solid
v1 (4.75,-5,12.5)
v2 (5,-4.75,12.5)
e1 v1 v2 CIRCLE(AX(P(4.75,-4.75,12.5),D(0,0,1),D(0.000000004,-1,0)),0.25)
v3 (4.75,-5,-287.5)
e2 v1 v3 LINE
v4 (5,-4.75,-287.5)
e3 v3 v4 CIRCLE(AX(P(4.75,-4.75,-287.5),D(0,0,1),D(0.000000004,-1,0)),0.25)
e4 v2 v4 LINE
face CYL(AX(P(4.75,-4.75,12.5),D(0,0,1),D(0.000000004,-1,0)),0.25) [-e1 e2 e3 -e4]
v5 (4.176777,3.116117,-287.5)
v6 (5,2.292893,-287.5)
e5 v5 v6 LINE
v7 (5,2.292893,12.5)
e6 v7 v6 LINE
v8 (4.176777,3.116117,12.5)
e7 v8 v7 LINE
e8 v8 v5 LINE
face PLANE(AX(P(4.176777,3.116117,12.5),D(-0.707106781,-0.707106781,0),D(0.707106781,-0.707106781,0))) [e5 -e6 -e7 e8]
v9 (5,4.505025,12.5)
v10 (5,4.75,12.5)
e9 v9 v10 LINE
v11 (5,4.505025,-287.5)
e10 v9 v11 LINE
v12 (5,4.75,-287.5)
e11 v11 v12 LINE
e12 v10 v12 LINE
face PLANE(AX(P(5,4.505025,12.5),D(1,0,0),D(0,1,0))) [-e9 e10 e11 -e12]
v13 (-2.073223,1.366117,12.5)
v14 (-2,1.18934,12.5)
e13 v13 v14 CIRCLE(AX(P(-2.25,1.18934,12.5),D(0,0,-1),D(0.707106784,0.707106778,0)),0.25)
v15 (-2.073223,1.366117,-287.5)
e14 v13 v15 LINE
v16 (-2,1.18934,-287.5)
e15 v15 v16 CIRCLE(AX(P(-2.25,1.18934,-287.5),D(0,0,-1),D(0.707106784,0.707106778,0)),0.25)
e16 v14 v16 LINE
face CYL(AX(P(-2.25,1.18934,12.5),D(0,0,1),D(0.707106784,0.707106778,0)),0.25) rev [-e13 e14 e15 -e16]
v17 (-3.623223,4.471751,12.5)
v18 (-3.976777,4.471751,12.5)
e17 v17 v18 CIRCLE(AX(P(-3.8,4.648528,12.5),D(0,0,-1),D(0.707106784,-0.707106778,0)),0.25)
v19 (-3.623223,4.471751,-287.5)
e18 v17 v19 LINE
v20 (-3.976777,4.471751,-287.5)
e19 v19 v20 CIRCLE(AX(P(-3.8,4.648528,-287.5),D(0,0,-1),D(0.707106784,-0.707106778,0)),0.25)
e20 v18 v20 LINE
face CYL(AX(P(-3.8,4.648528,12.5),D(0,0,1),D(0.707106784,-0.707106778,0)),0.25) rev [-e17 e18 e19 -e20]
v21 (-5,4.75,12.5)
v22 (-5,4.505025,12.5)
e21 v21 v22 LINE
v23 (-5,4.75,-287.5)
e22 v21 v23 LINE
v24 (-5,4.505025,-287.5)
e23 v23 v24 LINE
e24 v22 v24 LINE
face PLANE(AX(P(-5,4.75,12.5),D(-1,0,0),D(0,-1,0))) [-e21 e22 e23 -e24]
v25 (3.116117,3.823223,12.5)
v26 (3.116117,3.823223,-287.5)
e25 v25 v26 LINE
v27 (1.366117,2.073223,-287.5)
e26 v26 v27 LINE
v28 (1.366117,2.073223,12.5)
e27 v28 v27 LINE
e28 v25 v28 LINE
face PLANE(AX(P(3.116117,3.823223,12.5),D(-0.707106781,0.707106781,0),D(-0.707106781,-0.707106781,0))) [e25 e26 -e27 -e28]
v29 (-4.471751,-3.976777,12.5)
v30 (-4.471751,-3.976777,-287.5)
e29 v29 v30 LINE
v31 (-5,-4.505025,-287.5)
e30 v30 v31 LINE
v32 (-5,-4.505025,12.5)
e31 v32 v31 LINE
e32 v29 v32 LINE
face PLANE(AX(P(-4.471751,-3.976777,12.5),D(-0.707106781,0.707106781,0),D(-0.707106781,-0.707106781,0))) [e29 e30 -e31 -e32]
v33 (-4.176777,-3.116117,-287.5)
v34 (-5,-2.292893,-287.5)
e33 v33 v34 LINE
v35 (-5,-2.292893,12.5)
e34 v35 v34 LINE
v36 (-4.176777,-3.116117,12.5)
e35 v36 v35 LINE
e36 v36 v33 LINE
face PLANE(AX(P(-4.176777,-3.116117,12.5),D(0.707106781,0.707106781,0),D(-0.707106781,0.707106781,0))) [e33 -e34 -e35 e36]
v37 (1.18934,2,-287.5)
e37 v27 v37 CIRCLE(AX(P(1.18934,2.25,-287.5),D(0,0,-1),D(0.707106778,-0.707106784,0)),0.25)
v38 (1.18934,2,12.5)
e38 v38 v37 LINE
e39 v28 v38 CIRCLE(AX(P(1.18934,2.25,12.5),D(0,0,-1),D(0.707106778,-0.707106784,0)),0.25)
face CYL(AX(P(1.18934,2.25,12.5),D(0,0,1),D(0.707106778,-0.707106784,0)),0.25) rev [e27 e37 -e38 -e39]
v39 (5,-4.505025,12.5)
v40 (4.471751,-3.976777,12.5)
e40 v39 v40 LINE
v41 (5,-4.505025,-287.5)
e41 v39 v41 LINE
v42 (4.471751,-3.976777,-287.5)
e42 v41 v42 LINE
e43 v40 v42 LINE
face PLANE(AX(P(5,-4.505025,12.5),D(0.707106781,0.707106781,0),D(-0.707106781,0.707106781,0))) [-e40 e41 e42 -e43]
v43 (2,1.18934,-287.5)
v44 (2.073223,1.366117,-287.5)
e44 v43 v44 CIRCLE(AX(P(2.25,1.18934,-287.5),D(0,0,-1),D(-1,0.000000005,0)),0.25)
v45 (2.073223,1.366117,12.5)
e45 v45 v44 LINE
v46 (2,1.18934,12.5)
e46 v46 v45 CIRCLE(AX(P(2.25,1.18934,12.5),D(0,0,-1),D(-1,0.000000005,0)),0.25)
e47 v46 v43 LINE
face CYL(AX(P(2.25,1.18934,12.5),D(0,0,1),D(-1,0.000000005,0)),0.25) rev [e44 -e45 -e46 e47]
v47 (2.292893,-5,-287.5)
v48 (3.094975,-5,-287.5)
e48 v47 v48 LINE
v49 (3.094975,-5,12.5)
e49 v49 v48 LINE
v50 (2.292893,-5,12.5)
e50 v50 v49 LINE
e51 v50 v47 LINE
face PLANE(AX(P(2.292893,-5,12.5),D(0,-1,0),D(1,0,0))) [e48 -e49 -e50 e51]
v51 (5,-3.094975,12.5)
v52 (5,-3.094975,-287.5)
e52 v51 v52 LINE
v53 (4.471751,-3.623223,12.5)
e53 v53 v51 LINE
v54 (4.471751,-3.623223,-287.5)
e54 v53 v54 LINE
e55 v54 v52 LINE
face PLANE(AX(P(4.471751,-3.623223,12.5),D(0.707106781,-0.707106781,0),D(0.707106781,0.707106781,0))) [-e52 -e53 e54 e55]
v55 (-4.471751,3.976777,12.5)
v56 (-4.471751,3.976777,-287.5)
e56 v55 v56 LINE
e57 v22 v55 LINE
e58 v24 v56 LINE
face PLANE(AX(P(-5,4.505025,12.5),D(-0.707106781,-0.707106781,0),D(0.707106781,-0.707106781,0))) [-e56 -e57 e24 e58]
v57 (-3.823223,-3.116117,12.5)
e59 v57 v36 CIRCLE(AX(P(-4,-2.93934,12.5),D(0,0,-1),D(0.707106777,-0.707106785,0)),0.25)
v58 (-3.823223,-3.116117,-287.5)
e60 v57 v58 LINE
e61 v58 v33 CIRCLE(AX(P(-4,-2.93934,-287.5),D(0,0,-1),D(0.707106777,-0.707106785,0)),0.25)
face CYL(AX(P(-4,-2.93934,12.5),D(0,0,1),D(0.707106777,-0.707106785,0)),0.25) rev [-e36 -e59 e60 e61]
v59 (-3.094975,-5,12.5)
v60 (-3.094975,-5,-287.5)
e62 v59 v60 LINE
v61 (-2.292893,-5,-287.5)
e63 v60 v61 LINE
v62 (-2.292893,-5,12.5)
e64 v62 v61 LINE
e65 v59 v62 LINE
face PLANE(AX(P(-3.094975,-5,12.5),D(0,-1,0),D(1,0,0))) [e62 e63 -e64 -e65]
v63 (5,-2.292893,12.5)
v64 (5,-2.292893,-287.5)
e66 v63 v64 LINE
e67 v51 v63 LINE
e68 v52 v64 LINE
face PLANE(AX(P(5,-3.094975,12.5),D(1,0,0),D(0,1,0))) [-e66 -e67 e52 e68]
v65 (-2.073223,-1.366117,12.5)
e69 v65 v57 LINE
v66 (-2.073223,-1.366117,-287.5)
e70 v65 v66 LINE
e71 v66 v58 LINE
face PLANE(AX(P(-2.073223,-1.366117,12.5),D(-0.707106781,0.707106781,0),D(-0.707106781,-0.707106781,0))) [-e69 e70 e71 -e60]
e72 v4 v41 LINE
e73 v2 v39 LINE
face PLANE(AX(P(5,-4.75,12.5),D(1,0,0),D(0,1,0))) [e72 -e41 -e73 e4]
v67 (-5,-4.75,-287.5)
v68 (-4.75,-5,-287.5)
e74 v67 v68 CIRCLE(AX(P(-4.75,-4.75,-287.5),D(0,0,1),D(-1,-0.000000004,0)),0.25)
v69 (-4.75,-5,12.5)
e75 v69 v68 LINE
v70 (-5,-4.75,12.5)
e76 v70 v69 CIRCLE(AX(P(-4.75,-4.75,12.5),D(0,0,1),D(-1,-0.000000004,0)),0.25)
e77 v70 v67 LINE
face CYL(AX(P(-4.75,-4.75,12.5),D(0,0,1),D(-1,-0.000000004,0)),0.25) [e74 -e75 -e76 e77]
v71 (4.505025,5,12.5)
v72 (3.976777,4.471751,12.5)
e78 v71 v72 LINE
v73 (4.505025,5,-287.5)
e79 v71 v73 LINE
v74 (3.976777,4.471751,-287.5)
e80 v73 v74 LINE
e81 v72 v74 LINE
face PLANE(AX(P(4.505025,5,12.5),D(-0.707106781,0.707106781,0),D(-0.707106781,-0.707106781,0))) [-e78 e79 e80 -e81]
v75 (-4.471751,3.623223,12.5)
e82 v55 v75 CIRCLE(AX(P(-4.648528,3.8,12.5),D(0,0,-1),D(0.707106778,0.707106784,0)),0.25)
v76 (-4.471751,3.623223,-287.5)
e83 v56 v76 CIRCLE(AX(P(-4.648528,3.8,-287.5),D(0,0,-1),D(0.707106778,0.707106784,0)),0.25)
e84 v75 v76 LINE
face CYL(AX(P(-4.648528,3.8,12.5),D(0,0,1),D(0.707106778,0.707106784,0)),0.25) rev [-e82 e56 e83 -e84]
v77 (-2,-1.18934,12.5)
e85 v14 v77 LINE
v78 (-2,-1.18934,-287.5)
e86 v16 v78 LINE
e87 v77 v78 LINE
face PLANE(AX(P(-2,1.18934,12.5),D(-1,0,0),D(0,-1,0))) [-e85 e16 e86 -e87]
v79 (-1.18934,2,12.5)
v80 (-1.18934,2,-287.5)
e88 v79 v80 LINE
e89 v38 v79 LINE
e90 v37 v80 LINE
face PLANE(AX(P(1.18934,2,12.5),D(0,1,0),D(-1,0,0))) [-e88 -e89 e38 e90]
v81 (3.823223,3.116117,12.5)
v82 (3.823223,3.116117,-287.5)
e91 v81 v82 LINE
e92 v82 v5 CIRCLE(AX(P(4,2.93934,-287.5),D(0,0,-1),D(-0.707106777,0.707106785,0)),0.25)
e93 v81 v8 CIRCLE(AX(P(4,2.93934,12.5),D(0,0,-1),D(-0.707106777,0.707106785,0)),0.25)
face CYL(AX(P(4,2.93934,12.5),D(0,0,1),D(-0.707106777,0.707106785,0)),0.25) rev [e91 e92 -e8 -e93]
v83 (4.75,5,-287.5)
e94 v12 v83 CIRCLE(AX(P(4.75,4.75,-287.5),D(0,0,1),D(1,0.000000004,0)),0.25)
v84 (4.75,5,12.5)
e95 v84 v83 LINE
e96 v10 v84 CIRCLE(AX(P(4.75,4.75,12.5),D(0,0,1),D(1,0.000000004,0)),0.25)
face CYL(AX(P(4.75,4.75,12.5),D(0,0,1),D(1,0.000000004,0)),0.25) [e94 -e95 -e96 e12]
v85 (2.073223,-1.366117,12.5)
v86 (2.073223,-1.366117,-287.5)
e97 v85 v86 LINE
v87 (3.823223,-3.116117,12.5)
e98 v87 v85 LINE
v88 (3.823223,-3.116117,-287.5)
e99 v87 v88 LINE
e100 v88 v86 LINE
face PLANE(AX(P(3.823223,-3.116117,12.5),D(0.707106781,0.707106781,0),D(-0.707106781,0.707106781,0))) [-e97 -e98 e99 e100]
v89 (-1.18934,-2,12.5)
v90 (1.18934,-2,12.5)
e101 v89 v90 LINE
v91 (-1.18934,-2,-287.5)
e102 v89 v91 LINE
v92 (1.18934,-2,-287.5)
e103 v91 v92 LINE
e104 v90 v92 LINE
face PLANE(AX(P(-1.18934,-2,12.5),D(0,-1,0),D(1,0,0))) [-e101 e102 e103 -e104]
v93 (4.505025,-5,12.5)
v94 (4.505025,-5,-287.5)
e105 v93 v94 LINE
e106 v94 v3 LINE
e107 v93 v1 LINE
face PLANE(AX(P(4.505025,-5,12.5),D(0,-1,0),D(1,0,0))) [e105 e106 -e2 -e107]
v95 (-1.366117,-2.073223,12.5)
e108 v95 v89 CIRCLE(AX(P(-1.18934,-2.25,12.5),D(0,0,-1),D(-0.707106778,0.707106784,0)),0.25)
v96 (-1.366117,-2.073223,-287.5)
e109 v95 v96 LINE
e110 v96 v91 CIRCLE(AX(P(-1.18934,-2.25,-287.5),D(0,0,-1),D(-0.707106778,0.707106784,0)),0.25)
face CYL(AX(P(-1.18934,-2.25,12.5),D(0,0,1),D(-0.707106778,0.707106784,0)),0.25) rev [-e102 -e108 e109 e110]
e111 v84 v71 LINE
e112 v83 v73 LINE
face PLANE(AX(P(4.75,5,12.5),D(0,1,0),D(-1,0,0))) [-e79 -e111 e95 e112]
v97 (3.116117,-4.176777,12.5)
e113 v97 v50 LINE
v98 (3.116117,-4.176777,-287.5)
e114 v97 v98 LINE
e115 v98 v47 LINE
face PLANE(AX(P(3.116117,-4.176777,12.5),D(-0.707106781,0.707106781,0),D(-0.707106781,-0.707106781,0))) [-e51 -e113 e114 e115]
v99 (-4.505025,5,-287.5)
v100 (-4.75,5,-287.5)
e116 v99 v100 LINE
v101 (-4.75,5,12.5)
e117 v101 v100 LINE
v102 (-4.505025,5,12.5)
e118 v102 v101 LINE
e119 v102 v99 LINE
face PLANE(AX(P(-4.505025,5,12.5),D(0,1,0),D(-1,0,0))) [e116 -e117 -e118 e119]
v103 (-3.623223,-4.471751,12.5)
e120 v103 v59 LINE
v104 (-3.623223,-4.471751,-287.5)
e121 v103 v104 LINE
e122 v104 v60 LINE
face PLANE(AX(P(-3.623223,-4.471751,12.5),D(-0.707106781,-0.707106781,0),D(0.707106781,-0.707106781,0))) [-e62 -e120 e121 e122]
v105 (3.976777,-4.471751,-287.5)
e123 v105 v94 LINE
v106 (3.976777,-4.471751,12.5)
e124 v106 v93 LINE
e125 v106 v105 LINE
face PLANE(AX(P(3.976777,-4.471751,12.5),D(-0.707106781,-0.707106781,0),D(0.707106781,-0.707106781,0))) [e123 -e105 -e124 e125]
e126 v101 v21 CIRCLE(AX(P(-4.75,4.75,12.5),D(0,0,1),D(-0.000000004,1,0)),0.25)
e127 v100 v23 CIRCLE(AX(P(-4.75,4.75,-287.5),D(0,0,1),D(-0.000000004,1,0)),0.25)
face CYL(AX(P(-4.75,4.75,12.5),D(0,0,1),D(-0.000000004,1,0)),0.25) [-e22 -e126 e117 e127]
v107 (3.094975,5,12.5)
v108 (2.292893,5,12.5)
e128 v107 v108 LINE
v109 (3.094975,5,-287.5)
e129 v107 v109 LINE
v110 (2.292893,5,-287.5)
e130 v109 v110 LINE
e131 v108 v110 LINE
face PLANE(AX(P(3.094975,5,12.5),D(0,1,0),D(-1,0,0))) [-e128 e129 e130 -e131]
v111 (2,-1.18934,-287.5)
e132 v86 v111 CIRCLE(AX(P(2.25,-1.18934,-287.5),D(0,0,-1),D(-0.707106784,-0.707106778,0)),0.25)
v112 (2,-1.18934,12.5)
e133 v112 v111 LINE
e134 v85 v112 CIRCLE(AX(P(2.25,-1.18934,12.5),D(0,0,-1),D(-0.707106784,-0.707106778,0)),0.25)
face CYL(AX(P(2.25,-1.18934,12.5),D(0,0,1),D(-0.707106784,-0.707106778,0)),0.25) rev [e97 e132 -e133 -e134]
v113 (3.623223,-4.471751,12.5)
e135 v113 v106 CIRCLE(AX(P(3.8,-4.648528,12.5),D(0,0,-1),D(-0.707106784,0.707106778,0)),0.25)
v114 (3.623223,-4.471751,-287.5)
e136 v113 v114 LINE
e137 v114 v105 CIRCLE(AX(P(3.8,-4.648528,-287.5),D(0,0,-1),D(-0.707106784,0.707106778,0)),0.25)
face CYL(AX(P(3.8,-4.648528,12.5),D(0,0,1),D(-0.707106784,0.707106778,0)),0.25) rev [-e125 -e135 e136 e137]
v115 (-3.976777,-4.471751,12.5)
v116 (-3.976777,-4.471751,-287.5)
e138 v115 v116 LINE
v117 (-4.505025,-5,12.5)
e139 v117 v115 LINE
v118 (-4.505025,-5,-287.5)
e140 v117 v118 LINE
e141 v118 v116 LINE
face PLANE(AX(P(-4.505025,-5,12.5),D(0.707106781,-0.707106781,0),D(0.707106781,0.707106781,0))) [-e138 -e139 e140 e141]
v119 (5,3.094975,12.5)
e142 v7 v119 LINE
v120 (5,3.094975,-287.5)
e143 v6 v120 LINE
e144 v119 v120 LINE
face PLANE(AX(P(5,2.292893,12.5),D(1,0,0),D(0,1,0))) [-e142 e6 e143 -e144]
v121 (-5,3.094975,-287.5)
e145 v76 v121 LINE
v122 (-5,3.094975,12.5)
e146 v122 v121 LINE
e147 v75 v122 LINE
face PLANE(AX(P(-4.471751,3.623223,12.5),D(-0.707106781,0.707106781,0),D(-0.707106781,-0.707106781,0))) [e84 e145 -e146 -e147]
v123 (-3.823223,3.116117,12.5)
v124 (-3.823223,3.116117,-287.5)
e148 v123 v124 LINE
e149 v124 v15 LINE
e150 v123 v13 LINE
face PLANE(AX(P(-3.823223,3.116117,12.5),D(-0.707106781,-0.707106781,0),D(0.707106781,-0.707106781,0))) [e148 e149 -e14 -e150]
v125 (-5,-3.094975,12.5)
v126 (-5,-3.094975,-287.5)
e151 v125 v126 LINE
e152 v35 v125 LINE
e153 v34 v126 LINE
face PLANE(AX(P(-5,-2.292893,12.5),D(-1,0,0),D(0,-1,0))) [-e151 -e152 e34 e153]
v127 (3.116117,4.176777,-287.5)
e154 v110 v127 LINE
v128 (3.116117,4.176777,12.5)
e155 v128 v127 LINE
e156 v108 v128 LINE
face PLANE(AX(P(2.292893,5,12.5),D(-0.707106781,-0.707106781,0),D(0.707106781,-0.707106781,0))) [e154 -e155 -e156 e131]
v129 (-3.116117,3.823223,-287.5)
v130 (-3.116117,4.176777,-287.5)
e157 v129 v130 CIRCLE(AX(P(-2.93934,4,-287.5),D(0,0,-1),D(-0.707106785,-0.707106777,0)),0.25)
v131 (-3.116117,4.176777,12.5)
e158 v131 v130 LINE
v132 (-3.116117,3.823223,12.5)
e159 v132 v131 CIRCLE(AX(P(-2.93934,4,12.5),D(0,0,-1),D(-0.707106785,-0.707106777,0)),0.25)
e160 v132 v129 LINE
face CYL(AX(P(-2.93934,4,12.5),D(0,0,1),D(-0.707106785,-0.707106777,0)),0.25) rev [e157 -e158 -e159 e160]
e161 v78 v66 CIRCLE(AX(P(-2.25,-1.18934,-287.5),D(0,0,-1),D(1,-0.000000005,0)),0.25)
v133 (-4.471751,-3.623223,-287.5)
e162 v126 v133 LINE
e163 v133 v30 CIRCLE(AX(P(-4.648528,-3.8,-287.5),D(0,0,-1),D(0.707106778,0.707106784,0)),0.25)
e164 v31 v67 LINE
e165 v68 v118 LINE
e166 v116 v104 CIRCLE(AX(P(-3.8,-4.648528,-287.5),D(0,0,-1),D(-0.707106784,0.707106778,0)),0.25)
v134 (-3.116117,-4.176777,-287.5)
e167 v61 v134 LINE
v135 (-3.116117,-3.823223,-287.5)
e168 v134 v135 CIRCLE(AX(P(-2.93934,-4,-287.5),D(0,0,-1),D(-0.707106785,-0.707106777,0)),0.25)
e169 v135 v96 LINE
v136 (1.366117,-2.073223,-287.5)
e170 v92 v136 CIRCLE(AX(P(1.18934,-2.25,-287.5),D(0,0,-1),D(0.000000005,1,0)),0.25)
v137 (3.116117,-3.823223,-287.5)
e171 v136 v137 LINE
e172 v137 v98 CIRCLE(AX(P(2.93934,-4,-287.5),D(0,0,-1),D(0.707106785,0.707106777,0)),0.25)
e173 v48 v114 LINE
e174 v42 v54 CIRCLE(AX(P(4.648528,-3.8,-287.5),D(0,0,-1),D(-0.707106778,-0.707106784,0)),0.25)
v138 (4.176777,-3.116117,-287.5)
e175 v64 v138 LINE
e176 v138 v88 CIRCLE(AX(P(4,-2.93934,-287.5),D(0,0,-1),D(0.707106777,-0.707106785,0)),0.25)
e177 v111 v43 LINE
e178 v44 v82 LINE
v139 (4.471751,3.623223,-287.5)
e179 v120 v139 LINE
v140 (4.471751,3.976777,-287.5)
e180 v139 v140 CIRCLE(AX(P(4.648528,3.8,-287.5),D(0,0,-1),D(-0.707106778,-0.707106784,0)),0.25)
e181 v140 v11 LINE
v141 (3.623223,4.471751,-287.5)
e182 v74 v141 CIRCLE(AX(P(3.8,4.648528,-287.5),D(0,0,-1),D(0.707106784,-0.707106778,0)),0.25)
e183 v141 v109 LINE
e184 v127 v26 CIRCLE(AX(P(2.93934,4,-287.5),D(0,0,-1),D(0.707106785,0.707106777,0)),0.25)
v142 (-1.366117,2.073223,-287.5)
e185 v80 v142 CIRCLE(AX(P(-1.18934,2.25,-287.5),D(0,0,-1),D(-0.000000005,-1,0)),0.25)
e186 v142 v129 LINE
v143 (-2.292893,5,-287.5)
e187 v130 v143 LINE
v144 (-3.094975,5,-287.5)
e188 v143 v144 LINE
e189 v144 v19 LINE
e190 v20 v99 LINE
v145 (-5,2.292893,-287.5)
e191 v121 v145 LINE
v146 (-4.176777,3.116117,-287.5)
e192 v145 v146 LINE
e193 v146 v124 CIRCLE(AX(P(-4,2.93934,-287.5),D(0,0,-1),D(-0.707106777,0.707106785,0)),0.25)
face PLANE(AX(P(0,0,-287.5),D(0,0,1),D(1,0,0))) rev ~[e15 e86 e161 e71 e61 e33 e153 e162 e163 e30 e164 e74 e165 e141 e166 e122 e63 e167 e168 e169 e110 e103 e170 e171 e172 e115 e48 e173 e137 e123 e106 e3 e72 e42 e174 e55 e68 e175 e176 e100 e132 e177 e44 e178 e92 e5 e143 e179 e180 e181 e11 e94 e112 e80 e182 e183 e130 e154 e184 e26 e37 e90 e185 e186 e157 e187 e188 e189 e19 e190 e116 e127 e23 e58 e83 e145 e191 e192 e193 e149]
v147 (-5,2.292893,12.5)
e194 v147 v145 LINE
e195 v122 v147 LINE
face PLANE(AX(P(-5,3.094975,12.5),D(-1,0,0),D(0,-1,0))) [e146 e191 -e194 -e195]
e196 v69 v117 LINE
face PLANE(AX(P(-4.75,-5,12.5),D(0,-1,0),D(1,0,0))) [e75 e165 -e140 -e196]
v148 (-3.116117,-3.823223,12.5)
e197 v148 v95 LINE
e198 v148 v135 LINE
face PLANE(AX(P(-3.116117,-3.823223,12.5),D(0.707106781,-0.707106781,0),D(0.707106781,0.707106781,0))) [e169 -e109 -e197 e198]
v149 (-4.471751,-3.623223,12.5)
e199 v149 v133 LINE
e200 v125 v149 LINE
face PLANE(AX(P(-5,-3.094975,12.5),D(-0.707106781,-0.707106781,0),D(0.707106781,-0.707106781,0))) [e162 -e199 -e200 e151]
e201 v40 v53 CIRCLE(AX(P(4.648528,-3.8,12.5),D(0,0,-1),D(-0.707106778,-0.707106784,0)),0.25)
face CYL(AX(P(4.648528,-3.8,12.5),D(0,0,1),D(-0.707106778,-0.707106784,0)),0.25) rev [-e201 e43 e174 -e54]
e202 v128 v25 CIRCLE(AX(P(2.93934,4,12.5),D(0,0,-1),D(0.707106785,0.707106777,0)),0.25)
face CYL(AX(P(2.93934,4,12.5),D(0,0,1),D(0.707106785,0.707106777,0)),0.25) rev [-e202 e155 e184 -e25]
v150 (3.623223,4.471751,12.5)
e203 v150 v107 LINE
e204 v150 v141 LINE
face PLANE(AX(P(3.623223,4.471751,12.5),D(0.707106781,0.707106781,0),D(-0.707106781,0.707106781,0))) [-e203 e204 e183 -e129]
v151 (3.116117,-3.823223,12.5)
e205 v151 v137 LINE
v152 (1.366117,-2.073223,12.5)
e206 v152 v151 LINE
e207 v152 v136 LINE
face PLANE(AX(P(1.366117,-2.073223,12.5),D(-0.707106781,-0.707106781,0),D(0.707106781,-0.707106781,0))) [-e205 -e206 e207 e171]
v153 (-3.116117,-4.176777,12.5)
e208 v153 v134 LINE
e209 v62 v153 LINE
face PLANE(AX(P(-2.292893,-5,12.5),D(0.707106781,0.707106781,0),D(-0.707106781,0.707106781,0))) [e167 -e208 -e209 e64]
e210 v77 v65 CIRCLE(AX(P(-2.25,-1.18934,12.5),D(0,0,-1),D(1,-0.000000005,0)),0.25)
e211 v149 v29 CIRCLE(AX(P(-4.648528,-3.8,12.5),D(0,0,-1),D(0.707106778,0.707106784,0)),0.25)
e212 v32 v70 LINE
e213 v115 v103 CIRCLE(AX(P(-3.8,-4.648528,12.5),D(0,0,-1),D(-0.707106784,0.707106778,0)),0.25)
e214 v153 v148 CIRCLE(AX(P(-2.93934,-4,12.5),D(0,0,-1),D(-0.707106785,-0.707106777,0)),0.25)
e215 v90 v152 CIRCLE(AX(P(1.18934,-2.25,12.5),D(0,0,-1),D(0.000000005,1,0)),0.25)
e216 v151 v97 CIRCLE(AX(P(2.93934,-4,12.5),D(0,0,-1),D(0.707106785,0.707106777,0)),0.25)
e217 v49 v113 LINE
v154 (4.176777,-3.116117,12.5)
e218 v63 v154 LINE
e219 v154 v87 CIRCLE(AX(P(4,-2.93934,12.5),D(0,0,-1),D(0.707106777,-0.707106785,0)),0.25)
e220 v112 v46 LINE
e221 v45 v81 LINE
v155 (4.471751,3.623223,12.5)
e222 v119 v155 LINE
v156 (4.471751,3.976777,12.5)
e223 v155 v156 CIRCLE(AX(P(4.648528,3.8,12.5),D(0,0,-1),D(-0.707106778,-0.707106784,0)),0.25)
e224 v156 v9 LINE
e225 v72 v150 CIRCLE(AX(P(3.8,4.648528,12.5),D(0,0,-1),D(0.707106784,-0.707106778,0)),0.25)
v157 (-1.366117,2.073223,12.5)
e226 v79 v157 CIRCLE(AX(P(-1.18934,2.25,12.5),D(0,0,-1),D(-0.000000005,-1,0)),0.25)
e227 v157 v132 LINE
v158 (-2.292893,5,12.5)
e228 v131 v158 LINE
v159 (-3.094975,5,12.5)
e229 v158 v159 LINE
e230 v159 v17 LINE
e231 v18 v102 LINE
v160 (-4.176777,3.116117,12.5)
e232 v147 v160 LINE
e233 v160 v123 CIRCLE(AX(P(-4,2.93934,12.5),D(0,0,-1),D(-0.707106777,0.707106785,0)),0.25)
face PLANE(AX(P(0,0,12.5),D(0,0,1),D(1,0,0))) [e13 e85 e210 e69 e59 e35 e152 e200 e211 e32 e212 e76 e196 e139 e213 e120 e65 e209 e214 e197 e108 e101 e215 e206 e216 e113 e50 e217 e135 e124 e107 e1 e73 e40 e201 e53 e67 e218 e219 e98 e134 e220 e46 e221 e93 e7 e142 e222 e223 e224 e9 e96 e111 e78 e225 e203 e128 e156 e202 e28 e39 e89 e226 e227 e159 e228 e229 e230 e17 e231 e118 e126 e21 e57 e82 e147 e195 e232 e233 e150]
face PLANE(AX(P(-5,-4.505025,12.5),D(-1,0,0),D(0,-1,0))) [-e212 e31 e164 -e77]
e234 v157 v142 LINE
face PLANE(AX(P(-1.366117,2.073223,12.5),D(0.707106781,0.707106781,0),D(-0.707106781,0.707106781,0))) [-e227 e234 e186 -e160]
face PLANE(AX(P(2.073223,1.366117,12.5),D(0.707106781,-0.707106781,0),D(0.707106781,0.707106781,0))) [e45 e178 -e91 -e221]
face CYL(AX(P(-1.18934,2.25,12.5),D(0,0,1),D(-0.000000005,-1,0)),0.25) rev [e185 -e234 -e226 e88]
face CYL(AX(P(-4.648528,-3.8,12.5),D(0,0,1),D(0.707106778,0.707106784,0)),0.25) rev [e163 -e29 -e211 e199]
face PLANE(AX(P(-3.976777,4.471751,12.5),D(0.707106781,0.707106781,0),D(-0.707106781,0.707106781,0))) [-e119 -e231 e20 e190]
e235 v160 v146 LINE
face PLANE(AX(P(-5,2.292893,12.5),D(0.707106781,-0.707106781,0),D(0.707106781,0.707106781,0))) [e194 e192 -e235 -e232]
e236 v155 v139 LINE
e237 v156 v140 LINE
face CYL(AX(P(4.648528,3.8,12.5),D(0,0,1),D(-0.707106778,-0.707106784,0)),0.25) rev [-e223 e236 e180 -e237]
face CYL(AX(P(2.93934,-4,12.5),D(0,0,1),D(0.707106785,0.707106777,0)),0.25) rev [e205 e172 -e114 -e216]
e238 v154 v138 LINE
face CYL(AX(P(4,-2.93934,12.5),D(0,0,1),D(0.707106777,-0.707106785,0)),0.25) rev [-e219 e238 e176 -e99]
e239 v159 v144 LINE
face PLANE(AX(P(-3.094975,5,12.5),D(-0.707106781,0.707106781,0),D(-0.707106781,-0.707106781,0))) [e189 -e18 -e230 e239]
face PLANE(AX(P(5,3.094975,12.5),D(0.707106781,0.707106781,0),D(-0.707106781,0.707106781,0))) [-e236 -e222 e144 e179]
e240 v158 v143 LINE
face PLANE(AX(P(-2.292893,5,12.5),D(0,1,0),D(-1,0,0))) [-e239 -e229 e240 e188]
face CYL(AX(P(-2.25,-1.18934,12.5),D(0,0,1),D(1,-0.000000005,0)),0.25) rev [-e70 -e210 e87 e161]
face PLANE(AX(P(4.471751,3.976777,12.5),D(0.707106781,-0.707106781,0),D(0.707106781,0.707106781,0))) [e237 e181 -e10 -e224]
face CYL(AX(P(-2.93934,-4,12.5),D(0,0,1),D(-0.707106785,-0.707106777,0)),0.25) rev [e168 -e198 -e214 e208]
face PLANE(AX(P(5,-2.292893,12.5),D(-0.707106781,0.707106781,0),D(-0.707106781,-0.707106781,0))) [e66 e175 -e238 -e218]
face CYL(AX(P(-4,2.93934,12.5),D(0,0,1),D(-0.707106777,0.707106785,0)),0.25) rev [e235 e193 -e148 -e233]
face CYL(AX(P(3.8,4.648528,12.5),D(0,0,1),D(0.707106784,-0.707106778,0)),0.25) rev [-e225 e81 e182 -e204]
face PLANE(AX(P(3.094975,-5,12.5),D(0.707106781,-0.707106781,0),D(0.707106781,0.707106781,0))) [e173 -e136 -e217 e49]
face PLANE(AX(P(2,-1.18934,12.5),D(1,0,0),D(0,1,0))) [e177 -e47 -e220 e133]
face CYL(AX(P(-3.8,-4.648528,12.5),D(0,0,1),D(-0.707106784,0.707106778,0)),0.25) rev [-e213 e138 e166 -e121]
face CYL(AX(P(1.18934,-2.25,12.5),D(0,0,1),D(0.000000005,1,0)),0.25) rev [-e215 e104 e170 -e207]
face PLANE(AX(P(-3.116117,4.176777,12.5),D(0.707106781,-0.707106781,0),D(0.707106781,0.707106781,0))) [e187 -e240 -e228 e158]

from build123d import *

# Parameters (mm, degrees)
BOSS_EXTRUDE1_DEPTH = 300


with BuildPart() as part:
    # Sketch1 → Boss-Extrude1 (new body)
    with BuildSketch(Plane.XY.offset(12.5)):
        with BuildLine():
            Line((1.189339828, 2), (-1.189339828, 2))
            ThreePointArc((-1.189339828, 2), (-1.285010686, 2.019030117), (-1.366116524, 2.073223305))
            Line((-1.366116524, 2.073223305), (-3.116116524, 3.823223305))
            ThreePointArc((-3.116116524, 3.823223305), (-3.189339828, 4), (-3.116116524, 4.176776695))
            Line((-3.116116524, 4.176776695), (-2.292893219, 5))
            Line((-2.292893219, 5), (-3.094974747, 5))
            Line((-3.094974747, 5), (-3.623223305, 4.471751442))
            ThreePointArc((-3.623223305, 4.471751442), (-3.8, 4.398528137), (-3.976776695, 4.471751442))
            Line((-3.976776695, 4.471751442), (-4.505025253, 5))
            Line((-4.505025253, 5), (-4.75, 5))
            ThreePointArc((-4.75, 5), (-4.926776695, 4.926776695), (-5, 4.75))
            Line((-5, 4.75), (-5, 4.505025253))
            Line((-5, 4.505025253), (-4.471751442, 3.976776695))
            ThreePointArc((-4.471751442, 3.976776695), (-4.398528137, 3.8), (-4.471751442, 3.623223305))
            Line((-4.471751442, 3.623223305), (-5, 3.094974747))
            Line((-5, 3.094974747), (-5, 2.292893219))
            Line((-5, 2.292893219), (-4.176776695, 3.116116524))
            ThreePointArc((-4.176776695, 3.116116524), (-4, 3.189339828), (-3.823223305, 3.116116524))
            Line((-3.823223305, 3.116116524), (-2.073223305, 1.366116524))
            ThreePointArc((-2.073223305, 1.366116524), (-2.019030117, 1.285010686), (-2, 1.189339828))
            Line((-2, 1.189339828), (-2, -1.189339828))
            ThreePointArc((-2, -1.189339828), (-2.019030117, -1.285010686), (-2.073223305, -1.366116524))
            Line((-2.073223305, -1.366116524), (-3.823223305, -3.116116524))
            ThreePointArc((-3.823223305, -3.116116524), (-4, -3.189339828), (-4.176776695, -3.116116524))
            Line((-4.176776695, -3.116116524), (-5, -2.292893219))
            Line((-5, -2.292893219), (-5, -3.094974747))
            Line((-5, -3.094974747), (-4.471751442, -3.623223305))
            ThreePointArc((-4.471751442, -3.623223305), (-4.398528137, -3.8), (-4.471751442, -3.976776695))
            Line((-4.471751442, -3.976776695), (-5, -4.505025253))
            Line((-5, -4.505025253), (-5, -4.75))
            ThreePointArc((-5, -4.75), (-4.926776695, -4.926776695), (-4.75, -5))
            Line((-4.75, -5), (-4.505025253, -5))
            Line((-4.505025253, -5), (-3.976776695, -4.471751442))
            ThreePointArc((-3.976776695, -4.471751442), (-3.8, -4.398528137), (-3.623223305, -4.471751442))
            Line((-3.623223305, -4.471751442), (-3.094974747, -5))
            Line((-3.094974747, -5), (-2.292893219, -5))
            Line((-2.292893219, -5), (-3.116116524, -4.176776695))
            ThreePointArc((-3.116116524, -4.176776695), (-3.189339828, -4), (-3.116116524, -3.823223305))
            Line((-3.116116524, -3.823223305), (-1.366116524, -2.073223305))
            ThreePointArc((-1.366116524, -2.073223305), (-1.285010686, -2.019030117), (-1.189339828, -2))
            Line((-1.189339828, -2), (1.189339828, -2))
            ThreePointArc((1.189339828, -2), (1.285010686, -2.019030117), (1.366116524, -2.073223305))
            Line((1.366116524, -2.073223305), (3.116116524, -3.823223305))
            ThreePointArc((3.116116524, -3.823223305), (3.189339828, -4), (3.116116524, -4.176776695))
            Line((3.116116524, -4.176776695), (2.292893219, -5))
            Line((2.292893219, -5), (3.094974747, -5))
            Line((3.094974747, -5), (3.623223305, -4.471751442))
            ThreePointArc((3.623223305, -4.471751442), (3.8, -4.398528137), (3.976776695, -4.471751442))
            Line((3.976776695, -4.471751442), (4.505025253, -5))
            Line((4.505025253, -5), (4.75, -5))
            ThreePointArc((4.75, -5), (4.926776695, -4.926776695), (5, -4.75))
            Line((5, -4.75), (5, -4.505025253))
            Line((5, -4.505025253), (4.471751442, -3.976776695))
            ThreePointArc((4.471751442, -3.976776695), (4.398528137, -3.8), (4.471751442, -3.623223305))
            Line((4.471751442, -3.623223305), (5, -3.094974747))
            Line((5, -3.094974747), (5, -2.292893219))
            Line((5, -2.292893219), (4.176776695, -3.116116524))
            ThreePointArc((4.176776695, -3.116116524), (4, -3.189339828), (3.823223305, -3.116116524))
            Line((3.823223305, -3.116116524), (2.073223305, -1.366116524))
            ThreePointArc((2.073223305, -1.366116524), (2.019030117, -1.285010686), (2, -1.189339828))
            Line((2, -1.189339828), (2, 1.189339828))
            ThreePointArc((2, 1.189339828), (2.019030117, 1.285010686), (2.073223305, 1.366116524))
            Line((2.073223305, 1.366116524), (3.823223305, 3.116116524))
            ThreePointArc((3.823223305, 3.116116524), (4, 3.189339828), (4.176776695, 3.116116524))
            Line((4.176776695, 3.116116524), (5, 2.292893219))
            Line((5, 2.292893219), (5, 3.094974747))
            Line((5, 3.094974747), (4.471751442, 3.623223305))
            ThreePointArc((4.471751442, 3.623223305), (4.398528137, 3.8), (4.471751442, 3.976776695))
            Line((4.471751442, 3.976776695), (5, 4.505025253))
            Line((5, 4.505025253), (5, 4.75))
            ThreePointArc((5, 4.75), (4.926776695, 4.926776695), (4.75, 5))
            Line((4.75, 5), (4.505025253, 5))
            Line((4.505025253, 5), (3.976776695, 4.471751442))
            ThreePointArc((3.976776695, 4.471751442), (3.8, 4.398528137), (3.623223305, 4.471751442))
            Line((3.623223305, 4.471751442), (3.094974747, 5))
            Line((3.094974747, 5), (2.292893219, 5))
            Line((2.292893219, 5), (3.116116524, 4.176776695))
            ThreePointArc((3.116116524, 4.176776695), (3.189339828, 4), (3.116116524, 3.823223305))
            Line((3.116116524, 3.823223305), (1.366116524, 2.073223305))
            ThreePointArc((1.366116524, 2.073223305), (1.285010686, 2.019030117), (1.189339828, 2))
        make_face()
    extrude(amount=-BOSS_EXTRUDE1_DEPTH)


solid = part.part
